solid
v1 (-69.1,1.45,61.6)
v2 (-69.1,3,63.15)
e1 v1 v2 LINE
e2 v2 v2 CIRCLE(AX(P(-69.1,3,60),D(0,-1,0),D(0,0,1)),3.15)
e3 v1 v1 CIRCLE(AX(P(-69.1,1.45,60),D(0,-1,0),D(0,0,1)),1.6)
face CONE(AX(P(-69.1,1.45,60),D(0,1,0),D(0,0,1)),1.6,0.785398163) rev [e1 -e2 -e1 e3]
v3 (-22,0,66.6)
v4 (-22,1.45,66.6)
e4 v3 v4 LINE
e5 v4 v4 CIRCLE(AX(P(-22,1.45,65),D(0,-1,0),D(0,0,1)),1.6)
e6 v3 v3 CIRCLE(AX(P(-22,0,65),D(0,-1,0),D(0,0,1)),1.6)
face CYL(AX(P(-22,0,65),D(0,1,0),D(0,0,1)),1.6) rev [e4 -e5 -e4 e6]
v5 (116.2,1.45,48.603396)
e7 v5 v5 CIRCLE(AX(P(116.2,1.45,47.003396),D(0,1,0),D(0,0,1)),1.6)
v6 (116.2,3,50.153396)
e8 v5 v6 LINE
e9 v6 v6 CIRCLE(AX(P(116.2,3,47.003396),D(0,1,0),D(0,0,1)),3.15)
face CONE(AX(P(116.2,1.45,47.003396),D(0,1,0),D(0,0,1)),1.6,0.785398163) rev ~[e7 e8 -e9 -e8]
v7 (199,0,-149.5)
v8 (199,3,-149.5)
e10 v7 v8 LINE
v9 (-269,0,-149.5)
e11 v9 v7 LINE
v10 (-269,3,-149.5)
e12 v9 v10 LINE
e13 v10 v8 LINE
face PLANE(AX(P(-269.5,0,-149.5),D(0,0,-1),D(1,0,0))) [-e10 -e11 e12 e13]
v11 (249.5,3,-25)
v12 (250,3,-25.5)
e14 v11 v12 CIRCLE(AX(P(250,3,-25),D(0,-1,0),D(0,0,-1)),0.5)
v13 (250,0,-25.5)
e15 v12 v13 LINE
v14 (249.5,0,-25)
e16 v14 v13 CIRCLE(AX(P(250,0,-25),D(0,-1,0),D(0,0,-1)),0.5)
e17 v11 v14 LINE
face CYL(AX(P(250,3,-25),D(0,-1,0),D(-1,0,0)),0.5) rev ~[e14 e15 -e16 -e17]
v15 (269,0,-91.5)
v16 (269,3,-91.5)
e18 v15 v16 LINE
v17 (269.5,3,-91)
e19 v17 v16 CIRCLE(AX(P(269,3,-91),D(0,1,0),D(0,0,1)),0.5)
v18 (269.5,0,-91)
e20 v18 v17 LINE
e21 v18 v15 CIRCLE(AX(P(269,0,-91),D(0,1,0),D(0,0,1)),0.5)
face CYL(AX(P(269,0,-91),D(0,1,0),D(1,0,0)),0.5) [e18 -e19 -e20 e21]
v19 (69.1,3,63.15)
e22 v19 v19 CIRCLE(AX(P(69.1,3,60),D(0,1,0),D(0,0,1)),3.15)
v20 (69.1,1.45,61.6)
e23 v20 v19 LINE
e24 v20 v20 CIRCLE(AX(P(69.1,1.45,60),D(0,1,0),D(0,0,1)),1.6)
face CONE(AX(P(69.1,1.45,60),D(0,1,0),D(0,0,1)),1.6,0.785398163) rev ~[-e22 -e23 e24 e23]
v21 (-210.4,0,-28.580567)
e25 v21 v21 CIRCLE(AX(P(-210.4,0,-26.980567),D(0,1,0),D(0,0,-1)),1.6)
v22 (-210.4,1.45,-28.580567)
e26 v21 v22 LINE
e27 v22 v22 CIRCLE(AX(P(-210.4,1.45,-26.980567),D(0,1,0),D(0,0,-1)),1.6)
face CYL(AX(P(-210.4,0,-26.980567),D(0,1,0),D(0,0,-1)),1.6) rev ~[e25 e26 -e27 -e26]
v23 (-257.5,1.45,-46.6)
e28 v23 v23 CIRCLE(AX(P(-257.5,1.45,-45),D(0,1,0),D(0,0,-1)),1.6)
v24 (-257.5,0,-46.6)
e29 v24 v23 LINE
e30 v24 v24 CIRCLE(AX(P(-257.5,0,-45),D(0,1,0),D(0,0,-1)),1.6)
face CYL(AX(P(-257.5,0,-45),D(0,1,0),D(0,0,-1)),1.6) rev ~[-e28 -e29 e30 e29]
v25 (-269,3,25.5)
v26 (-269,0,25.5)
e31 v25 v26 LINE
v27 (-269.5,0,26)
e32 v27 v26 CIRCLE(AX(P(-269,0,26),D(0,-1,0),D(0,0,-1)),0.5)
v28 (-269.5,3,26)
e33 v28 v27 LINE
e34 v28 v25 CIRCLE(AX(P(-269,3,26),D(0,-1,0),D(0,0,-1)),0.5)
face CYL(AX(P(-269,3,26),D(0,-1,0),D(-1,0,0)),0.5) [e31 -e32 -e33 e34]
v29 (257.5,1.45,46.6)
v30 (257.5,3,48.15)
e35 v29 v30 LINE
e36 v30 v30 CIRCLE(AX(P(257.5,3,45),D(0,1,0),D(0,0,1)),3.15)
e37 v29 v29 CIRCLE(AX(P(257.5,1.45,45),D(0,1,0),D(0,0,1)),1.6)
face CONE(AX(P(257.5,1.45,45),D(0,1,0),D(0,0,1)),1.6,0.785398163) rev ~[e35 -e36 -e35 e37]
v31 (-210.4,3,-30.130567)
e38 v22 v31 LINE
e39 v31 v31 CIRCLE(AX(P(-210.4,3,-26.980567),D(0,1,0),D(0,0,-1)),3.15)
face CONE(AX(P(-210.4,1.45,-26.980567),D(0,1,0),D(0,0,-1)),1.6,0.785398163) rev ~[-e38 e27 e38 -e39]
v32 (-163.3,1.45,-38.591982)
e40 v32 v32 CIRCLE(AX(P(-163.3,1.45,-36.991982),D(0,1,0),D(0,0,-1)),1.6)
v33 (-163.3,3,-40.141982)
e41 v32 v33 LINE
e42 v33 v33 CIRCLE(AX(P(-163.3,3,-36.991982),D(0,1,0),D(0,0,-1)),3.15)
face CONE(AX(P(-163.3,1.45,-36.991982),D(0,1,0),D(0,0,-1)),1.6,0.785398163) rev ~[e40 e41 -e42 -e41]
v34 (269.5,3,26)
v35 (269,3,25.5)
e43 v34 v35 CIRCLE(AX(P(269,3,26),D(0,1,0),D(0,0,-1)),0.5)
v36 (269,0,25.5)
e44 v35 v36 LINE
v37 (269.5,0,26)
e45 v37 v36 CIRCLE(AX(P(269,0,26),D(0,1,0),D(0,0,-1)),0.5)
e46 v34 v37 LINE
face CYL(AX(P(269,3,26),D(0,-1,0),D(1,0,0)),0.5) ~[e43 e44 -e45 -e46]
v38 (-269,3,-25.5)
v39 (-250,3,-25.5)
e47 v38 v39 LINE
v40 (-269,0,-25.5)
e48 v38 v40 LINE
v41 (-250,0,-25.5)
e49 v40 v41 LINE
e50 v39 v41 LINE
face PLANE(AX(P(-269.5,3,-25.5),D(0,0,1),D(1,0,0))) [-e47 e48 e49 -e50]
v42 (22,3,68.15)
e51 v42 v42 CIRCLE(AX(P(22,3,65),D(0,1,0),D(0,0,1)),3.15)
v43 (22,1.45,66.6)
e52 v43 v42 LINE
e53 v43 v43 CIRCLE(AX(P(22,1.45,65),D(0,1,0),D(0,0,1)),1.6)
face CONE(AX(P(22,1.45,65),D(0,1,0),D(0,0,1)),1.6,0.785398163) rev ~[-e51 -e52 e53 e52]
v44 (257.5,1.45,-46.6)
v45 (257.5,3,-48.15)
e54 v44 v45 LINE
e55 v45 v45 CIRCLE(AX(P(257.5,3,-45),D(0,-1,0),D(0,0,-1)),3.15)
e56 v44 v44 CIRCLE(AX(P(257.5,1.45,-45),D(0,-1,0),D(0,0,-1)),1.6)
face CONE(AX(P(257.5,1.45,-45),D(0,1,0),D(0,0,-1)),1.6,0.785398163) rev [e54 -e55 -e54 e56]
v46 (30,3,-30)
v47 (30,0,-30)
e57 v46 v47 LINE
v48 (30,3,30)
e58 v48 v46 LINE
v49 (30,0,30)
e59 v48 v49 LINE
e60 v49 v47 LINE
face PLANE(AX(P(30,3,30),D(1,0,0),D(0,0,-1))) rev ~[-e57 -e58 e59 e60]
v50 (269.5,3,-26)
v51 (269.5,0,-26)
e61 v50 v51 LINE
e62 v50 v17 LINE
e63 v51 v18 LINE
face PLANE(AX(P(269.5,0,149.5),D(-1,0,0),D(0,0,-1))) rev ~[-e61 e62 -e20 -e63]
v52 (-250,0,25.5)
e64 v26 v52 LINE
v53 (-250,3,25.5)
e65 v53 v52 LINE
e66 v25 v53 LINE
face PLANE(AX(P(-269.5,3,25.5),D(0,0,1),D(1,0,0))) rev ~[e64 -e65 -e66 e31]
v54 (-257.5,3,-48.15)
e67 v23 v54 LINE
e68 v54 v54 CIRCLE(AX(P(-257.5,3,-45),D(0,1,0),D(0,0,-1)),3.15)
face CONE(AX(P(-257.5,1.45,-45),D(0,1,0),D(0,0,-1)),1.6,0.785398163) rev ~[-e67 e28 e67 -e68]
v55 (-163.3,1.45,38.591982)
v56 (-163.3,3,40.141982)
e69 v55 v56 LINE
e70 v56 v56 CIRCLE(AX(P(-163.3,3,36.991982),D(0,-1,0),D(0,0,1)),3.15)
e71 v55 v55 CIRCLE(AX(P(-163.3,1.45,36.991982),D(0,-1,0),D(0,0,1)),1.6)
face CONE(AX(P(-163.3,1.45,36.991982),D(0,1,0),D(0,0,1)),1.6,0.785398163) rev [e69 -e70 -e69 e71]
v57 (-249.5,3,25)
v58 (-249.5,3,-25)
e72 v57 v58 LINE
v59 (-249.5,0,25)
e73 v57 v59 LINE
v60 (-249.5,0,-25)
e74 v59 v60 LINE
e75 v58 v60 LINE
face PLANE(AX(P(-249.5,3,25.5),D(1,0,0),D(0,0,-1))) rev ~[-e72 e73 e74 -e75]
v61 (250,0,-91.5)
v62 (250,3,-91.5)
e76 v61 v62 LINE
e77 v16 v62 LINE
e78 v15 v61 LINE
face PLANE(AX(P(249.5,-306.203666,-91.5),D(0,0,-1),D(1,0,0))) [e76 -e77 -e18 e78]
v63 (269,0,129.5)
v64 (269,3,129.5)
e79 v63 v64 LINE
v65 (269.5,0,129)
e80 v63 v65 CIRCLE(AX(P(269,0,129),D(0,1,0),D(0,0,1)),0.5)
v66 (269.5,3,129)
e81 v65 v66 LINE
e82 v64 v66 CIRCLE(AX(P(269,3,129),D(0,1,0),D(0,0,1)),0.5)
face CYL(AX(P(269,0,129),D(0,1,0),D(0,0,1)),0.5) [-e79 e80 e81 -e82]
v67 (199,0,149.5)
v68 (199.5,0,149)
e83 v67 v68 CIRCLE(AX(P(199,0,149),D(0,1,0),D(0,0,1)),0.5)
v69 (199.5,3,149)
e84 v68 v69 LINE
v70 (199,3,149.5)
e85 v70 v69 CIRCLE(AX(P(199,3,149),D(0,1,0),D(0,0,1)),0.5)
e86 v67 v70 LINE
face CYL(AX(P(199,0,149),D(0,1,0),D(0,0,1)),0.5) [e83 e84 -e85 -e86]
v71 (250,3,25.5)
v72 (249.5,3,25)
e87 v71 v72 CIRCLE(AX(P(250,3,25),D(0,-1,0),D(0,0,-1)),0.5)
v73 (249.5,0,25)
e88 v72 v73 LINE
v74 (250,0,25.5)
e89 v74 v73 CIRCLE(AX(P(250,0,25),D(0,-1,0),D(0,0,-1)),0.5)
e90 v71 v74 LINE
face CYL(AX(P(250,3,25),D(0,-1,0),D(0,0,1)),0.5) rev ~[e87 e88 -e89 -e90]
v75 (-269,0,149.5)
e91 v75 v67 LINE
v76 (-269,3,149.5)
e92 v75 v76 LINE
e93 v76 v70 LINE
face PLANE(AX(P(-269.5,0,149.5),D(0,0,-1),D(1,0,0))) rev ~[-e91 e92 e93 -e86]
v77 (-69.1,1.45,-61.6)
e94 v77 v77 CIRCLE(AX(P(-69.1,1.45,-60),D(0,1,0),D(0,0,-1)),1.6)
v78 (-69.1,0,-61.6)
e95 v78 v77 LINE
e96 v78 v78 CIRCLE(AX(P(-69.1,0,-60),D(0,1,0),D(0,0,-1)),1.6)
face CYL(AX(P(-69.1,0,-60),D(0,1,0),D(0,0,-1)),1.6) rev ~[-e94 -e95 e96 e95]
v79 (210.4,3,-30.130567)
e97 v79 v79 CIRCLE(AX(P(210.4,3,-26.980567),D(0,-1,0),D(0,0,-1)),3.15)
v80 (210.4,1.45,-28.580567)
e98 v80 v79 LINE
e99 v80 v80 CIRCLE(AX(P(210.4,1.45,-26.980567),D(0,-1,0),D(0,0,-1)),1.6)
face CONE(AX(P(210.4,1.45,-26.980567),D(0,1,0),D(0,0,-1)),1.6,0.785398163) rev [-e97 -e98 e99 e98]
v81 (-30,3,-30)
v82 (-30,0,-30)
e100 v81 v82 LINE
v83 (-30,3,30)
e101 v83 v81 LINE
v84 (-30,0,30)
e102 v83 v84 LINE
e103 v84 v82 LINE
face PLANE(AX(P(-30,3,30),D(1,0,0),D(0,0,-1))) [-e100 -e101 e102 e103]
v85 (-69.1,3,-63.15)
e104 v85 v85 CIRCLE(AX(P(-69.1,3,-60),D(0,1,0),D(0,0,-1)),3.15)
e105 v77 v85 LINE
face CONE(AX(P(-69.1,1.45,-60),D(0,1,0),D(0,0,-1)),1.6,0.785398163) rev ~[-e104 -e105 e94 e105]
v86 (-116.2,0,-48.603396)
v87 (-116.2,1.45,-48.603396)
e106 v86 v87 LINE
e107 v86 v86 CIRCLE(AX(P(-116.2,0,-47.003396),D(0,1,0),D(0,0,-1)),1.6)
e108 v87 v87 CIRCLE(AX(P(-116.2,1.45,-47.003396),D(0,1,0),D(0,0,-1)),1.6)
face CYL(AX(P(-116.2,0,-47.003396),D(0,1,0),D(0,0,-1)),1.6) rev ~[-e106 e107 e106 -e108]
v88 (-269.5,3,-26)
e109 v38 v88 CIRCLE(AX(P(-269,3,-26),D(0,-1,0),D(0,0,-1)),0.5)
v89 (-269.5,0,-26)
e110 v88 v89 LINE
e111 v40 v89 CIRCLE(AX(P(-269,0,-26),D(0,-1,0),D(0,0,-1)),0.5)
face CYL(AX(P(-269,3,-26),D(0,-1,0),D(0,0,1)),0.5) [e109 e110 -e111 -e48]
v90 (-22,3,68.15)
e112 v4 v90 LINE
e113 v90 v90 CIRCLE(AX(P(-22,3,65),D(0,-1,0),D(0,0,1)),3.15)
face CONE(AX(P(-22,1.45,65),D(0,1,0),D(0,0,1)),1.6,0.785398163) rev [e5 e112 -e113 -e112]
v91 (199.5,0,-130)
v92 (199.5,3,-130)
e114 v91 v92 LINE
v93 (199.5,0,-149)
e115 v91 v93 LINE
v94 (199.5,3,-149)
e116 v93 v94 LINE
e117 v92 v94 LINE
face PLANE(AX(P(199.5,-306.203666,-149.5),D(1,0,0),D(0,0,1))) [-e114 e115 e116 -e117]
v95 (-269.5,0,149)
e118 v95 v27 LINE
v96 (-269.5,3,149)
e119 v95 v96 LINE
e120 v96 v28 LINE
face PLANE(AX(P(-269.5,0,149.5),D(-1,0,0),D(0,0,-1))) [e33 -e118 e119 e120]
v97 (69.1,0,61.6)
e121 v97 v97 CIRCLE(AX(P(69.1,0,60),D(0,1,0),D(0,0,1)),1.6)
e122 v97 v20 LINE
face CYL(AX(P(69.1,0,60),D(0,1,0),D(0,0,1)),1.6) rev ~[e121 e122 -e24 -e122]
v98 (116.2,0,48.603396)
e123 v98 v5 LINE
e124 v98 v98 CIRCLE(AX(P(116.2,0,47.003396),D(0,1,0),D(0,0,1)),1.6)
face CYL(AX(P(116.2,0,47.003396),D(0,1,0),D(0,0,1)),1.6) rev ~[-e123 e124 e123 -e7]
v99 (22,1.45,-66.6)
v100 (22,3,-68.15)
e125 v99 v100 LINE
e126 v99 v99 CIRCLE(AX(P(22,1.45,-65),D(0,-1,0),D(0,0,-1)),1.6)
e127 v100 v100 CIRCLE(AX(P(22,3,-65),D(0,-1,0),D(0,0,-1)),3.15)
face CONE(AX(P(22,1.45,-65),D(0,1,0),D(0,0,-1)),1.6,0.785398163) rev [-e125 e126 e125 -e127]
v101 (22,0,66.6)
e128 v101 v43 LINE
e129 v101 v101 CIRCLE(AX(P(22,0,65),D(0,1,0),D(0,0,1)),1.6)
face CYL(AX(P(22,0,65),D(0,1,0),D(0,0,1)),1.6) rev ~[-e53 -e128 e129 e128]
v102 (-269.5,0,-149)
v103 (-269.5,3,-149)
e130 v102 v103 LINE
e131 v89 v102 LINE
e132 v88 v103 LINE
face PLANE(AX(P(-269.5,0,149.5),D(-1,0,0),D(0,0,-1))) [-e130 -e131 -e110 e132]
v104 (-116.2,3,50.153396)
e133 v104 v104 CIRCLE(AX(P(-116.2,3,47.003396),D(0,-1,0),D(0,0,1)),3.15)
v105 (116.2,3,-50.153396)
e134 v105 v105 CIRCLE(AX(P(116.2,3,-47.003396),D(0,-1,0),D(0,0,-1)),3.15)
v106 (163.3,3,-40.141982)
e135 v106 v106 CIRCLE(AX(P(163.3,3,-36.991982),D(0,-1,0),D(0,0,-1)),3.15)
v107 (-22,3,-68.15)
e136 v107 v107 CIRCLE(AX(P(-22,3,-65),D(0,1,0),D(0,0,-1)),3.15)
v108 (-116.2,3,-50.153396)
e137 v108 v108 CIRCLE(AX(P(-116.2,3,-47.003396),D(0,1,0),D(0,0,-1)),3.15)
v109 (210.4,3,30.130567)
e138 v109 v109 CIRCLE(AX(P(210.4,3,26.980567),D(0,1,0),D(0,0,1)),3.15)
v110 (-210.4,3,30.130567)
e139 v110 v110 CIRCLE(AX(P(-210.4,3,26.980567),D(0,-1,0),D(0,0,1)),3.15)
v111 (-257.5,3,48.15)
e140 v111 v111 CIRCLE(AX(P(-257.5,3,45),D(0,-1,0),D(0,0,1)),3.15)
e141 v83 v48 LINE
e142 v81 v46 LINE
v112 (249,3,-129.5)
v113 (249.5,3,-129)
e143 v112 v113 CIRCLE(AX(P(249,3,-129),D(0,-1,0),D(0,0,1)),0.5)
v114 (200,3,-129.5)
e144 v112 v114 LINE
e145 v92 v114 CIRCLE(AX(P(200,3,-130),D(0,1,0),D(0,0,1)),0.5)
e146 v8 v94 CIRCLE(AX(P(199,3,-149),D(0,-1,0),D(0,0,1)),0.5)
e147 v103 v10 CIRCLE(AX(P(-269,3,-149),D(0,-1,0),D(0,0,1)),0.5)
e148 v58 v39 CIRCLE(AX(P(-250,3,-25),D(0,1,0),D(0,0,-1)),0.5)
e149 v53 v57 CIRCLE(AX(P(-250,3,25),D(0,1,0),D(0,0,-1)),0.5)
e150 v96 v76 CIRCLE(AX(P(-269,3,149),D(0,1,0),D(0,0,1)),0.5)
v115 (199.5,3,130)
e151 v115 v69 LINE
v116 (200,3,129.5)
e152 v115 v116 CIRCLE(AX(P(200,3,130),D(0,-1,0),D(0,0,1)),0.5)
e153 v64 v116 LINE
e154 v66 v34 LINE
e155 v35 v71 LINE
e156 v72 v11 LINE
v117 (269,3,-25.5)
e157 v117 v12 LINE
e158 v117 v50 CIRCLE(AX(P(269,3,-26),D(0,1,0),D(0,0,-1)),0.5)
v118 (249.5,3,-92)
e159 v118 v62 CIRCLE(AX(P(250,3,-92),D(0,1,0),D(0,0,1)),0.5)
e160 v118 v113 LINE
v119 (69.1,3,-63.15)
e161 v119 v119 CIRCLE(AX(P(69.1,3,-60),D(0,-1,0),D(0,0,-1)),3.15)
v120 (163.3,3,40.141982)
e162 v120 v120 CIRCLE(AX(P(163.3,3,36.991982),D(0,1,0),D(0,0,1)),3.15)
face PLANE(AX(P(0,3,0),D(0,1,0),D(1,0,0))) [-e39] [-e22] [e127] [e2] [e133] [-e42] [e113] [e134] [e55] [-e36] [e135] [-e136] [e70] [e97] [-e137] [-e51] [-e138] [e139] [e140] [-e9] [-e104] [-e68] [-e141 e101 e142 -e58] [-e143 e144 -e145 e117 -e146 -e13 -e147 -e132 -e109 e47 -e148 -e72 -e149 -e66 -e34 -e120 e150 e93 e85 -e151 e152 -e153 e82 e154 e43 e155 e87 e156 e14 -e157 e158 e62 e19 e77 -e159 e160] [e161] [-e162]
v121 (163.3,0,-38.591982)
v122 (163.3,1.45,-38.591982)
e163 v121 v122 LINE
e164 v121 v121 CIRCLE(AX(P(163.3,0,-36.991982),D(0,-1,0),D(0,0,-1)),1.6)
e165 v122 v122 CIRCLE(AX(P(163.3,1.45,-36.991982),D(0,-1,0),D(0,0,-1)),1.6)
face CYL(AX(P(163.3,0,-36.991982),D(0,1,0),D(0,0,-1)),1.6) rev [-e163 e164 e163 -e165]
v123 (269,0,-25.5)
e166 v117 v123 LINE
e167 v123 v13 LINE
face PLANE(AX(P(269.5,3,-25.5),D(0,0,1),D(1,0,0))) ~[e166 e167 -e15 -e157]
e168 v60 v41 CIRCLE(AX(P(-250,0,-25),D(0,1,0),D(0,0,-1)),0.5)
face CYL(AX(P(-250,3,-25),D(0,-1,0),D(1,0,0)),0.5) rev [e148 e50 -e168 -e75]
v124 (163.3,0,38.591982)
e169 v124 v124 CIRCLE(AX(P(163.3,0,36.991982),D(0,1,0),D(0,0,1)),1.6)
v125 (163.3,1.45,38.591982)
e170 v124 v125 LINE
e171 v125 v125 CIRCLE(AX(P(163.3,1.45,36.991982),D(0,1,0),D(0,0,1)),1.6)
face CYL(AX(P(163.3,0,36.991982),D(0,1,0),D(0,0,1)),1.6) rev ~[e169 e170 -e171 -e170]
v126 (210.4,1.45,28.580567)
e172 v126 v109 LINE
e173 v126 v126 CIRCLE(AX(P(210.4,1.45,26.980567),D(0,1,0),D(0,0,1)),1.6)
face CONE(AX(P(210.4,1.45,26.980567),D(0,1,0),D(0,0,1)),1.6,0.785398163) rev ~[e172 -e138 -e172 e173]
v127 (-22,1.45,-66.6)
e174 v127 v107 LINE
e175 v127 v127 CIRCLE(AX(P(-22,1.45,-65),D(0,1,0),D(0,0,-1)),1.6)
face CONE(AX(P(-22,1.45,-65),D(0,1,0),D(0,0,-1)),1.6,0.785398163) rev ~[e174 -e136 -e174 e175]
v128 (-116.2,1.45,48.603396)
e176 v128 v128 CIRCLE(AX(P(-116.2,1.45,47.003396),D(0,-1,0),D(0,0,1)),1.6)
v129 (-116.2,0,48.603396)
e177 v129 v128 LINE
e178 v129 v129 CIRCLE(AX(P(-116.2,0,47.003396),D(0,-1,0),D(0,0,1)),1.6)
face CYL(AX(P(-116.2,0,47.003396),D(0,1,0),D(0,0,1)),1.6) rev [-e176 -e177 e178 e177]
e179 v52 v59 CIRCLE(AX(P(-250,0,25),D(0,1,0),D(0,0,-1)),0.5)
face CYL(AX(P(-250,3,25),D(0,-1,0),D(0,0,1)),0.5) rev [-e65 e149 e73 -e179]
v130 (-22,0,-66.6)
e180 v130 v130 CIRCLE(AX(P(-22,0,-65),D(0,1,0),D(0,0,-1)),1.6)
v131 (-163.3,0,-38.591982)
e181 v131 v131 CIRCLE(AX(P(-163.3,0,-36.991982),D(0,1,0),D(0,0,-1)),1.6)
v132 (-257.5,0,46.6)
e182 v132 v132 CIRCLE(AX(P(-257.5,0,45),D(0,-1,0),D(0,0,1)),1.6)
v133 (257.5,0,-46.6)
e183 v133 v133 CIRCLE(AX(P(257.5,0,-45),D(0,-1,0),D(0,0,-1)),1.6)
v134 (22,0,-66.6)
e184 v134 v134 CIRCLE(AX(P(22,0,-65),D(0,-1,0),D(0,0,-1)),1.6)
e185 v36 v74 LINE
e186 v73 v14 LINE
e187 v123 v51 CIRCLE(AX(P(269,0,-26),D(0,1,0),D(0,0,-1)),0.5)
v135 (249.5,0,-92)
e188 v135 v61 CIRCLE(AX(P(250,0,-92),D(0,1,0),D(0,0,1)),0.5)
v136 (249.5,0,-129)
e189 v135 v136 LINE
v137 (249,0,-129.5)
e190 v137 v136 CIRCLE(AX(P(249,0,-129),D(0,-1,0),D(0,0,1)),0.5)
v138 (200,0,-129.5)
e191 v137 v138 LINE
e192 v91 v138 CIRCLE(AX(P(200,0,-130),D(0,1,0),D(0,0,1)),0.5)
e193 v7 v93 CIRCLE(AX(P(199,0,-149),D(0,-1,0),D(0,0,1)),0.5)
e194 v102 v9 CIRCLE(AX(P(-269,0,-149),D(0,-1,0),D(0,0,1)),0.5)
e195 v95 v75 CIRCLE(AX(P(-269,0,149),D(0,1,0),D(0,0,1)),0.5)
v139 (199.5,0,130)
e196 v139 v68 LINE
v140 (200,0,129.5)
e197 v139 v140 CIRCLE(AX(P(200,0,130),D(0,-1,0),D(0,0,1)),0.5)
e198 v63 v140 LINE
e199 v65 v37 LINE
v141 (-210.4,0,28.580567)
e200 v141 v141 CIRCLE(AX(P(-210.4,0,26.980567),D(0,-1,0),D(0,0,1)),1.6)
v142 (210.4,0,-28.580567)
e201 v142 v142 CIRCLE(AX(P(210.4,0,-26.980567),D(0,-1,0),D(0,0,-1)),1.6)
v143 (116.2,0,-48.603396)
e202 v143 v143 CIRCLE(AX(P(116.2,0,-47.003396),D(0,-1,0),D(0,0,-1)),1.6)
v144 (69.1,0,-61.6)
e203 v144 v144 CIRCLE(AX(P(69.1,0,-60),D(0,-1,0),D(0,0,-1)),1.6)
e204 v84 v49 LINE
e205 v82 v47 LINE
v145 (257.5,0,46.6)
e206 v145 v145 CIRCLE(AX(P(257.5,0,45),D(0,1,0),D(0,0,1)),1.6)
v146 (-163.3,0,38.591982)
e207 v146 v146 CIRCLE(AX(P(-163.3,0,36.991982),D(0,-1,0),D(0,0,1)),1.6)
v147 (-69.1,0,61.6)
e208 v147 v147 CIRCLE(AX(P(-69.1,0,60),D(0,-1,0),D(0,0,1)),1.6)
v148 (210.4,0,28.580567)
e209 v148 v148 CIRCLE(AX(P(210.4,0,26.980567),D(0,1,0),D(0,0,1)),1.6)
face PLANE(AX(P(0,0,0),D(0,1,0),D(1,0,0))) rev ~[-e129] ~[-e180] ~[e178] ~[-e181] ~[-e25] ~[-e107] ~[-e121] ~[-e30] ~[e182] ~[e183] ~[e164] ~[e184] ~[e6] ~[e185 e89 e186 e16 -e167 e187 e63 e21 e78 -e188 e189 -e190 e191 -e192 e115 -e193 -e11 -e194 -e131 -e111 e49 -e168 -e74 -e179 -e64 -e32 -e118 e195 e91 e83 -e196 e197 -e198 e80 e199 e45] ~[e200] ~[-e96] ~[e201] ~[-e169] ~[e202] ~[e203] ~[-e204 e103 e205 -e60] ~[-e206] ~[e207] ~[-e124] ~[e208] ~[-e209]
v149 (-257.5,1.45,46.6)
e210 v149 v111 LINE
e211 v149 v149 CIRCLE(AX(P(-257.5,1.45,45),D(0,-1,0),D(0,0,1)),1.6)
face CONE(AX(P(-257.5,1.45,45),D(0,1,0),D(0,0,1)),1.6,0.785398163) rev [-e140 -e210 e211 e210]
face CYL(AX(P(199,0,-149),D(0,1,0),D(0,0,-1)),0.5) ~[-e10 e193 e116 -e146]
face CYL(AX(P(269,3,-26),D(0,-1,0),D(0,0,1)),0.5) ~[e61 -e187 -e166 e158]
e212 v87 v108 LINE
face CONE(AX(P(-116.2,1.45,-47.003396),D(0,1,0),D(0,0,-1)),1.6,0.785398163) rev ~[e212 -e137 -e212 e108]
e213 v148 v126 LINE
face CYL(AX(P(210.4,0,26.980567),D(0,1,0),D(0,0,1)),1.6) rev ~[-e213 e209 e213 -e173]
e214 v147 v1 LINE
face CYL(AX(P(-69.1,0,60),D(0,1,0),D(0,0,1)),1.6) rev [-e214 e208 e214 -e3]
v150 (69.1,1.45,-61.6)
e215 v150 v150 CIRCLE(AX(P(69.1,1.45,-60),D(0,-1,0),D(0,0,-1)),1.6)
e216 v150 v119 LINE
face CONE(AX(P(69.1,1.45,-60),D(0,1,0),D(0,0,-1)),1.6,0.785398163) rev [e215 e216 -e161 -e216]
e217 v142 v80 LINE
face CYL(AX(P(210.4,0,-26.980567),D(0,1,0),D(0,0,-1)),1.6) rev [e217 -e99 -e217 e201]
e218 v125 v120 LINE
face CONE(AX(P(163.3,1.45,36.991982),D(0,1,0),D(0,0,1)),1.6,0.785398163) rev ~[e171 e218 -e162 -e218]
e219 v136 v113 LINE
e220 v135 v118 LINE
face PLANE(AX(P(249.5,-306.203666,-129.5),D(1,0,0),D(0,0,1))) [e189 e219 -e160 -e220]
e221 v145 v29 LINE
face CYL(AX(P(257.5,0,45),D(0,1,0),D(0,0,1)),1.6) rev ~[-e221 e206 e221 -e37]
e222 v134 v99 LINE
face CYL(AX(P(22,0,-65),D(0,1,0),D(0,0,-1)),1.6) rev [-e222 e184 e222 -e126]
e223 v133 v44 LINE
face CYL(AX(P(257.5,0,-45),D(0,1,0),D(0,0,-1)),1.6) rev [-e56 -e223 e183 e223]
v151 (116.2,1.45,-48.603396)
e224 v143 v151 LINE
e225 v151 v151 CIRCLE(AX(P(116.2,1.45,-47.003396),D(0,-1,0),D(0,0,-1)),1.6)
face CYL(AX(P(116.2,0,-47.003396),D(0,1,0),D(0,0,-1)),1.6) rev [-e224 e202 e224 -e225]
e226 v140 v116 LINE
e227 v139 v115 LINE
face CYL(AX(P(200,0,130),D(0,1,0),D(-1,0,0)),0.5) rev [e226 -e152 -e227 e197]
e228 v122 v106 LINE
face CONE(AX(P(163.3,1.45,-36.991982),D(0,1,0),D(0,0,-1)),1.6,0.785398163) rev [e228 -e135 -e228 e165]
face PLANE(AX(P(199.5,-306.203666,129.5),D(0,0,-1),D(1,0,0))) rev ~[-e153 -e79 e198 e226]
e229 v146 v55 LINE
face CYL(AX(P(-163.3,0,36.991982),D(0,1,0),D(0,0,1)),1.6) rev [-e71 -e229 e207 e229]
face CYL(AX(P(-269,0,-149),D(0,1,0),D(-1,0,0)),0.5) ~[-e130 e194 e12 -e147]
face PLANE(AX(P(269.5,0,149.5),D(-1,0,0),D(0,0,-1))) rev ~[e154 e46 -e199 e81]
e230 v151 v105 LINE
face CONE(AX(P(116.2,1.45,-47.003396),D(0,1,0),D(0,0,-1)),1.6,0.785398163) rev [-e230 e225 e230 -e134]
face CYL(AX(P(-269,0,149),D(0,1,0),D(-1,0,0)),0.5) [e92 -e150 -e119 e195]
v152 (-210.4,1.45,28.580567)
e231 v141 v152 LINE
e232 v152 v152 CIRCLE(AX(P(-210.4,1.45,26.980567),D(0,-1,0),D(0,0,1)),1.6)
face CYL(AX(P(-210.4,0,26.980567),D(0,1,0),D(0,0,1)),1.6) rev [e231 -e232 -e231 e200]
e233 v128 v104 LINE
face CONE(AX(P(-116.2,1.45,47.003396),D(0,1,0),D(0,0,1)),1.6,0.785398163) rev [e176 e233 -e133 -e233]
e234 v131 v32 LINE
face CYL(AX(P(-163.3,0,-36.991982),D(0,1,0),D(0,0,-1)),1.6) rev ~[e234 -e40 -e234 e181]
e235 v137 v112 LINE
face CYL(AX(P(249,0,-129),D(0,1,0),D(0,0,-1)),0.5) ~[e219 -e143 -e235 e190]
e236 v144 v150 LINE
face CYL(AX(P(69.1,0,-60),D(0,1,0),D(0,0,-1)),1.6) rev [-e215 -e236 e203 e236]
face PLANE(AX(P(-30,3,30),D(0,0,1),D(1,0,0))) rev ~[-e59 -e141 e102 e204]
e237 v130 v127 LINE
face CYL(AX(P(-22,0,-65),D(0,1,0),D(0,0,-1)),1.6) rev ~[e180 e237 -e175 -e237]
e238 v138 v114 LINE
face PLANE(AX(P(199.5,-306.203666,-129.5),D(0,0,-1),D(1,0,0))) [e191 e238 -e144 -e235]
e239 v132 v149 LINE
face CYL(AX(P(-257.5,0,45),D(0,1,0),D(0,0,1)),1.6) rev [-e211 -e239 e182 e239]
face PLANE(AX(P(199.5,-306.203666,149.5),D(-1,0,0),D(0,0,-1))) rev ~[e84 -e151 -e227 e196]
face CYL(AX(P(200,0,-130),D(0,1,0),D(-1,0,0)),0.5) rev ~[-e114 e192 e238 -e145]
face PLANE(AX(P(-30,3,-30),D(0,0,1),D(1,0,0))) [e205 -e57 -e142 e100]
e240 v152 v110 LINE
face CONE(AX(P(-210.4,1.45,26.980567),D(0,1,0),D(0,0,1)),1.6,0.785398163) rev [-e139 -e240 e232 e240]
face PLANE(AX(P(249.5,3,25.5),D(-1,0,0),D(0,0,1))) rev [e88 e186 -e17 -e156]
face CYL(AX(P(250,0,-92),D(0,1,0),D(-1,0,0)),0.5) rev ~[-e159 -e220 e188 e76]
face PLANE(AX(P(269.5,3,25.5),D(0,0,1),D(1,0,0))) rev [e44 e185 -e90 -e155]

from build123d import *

# Parameters (mm, degrees)
SKETCH1_W                                      = 539
SKETCH1_H                                      = 299
BOSS_EXTRUDE1_DEPTH                            = 3
SKETCH2_W                                      = 20
SKETCH2_H                                      = 51
CUT_EXTRUDE1_DEPTH                             = 309.203666429
CSK_FOR_M3_FLAT_HEAD_MACHINE_SCREW1_AT_2_COUNT = 2
CSK_FOR_M3_FLAT_HEAD_MACHINE_SCREW1_AT_2_PITCH = 50.429256866
CSK_FOR_M3_FLAT_HEAD_MACHINE_SCREW1_AT_3_COUNT = 2
CSK_FOR_M3_FLAT_HEAD_MACHINE_SCREW1_AT_3_PITCH = 94.539771311
CSK_FOR_M3_FLAT_HEAD_MACHINE_SCREW1_AT_4_COUNT = 2
CSK_FOR_M3_FLAT_HEAD_MACHINE_SCREW1_AT_4_PITCH = 141.314201671
CSK_FOR_M3_FLAT_HEAD_MACHINE_SCREW1_AT_5_COUNT = 2
CSK_FOR_M3_FLAT_HEAD_MACHINE_SCREW1_AT_5_PITCH = 188.996190438
CSK_FOR_M3_FLAT_HEAD_MACHINE_SCREW1_AT_6_COUNT = 2
CSK_FOR_M3_FLAT_HEAD_MACHINE_SCREW1_AT_6_PITCH = 236.347731108
CUT_EXTRUDE3_DEPTH                             = 309.203666429
CUT_EXTRUDE3_DEPTH_BACK                        = 309.203666429
SKETCH6_W                                      = 70
SKETCH6_H                                      = 20
SKETCH9_W                                      = 60
SKETCH9_H                                      = 60
CUT_EXTRUDE4_DEPTH                             = 309.203666429
FILLET1_R                                      = 0.5


with BuildPart() as part:
    # Sketch1 → Boss-Extrude1 (new body)
    with BuildSketch(Plane(origin=(0, 0, 0), x_dir=(1, 0, 0), z_dir=(0, 1, 0))):
        Rectangle(SKETCH1_W, SKETCH1_H)
    extrude(amount=BOSS_EXTRUDE1_DEPTH)

    # Sketch2 → Cut-Extrude1 (cut, through all)
    with BuildSketch(Plane(origin=(0, 3, 0), x_dir=(1, 0, 0), z_dir=(0, 1, 0))):
        with Locations((-259.5, 0)):
            Rectangle(SKETCH2_W, SKETCH2_H)
    cut_extrude1 = extrude(amount=-CUT_EXTRUDE1_DEPTH, mode=Mode.SUBTRACT)

    # Mirror1: Cut-Extrude1 across plane
    add(cut_extrude1.mirror(Plane(origin=(0, 0, 0), x_dir=(0, 0, 1), z_dir=(1, 0, 0))), mode=Mode.SUBTRACT)

    # Sketch4 → CSK for M3 Flat Head Machine Screw1 (revolve, cut)
    with BuildSketch(Plane(origin=(-257.5, 3, 45), x_dir=(0, 0, 1), z_dir=(1, 0, 0))):
        Polygon((0, 0), (0, 3), (1.6, 3), (1.6, 1.55), (3.15, 0), align=None)
    csk_for_m3_flat_head_machine_screw1 = revolve(axis=Axis((-257.5, 9.35, 45), (0, -1, 0)), mode=Mode.SUBTRACT)

    # CSK for M3 Flat Head Machine Screw1 at 2: CSK for M3 Flat Head Machine Screw1 ×2
    with Locations(*[Vector(0.9339816393782528, 0, -0.357321000368452) * (i * CSK_FOR_M3_FLAT_HEAD_MACHINE_SCREW1_AT_2_PITCH) for i in range(1, CSK_FOR_M3_FLAT_HEAD_MACHINE_SCREW1_AT_2_COUNT)]):
        add(csk_for_m3_flat_head_machine_screw1, mode=Mode.SUBTRACT)

    # CSK for M3 Flat Head Machine Screw1 at 3: CSK for M3 Flat Head Machine Screw1 ×2
    with Locations(*[Vector(0.9964060489398768, 0, -0.0847052869425741) * (i * CSK_FOR_M3_FLAT_HEAD_MACHINE_SCREW1_AT_3_PITCH) for i in range(1, CSK_FOR_M3_FLAT_HEAD_MACHINE_SCREW1_AT_3_COUNT)]):
        add(csk_for_m3_flat_head_machine_screw1, mode=Mode.SUBTRACT)

    # CSK for M3 Flat Head Machine Screw1 at 4: CSK for M3 Flat Head Machine Screw1 ×2
    with Locations(*[Vector(0.9998995028746508, 0, 0.01417688791753526) * (i * CSK_FOR_M3_FLAT_HEAD_MACHINE_SCREW1_AT_4_PITCH) for i in range(1, CSK_FOR_M3_FLAT_HEAD_MACHINE_SCREW1_AT_4_COUNT)]):
        add(csk_for_m3_flat_head_machine_screw1, mode=Mode.SUBTRACT)

    # CSK for M3 Flat Head Machine Screw1 at 5: CSK for M3 Flat Head Machine Screw1 ×2
    with Locations(*[Vector(0.9968454896555541, 0, 0.07936667911270336) * (i * CSK_FOR_M3_FLAT_HEAD_MACHINE_SCREW1_AT_5_PITCH) for i in range(1, CSK_FOR_M3_FLAT_HEAD_MACHINE_SCREW1_AT_5_COUNT)]):
        add(csk_for_m3_flat_head_machine_screw1, mode=Mode.SUBTRACT)

    # CSK for M3 Flat Head Machine Screw1 at 6: CSK for M3 Flat Head Machine Screw1 ×2
    with Locations(*[Vector(0.9964132039506463, 0, 0.08462107889177463) * (i * CSK_FOR_M3_FLAT_HEAD_MACHINE_SCREW1_AT_6_PITCH) for i in range(1, CSK_FOR_M3_FLAT_HEAD_MACHINE_SCREW1_AT_6_COUNT)]):
        add(csk_for_m3_flat_head_machine_screw1, mode=Mode.SUBTRACT)

    # Sketch6 → Cut-Extrude3 (cut, two sides: drawn at the far end of the back side and taken through both)
    with BuildSketch(Plane(origin=(0, 3, 0), x_dir=(1, 0, 0), z_dir=(0, 1, 0)).offset(-CUT_EXTRUDE3_DEPTH_BACK)):
        Polygon((199.5, 149.5), (199.5, 129.5), (249.5, 129.5), (249.5, 91.5), (269.5, 91.5), (269.5, 149.5), align=None)
        with Locations((234.5, -139.5)):
            Rectangle(SKETCH6_W, SKETCH6_H)
    extrude(amount=CUT_EXTRUDE3_DEPTH + CUT_EXTRUDE3_DEPTH_BACK, mode=Mode.SUBTRACT)

    # Mirror2: CSK for M3 Flat Head Machine Screw1 across plane
    add(csk_for_m3_flat_head_machine_screw1.mirror(Plane(origin=(0, 0, 0), x_dir=(0, 0, 1), z_dir=(1, 0, 0))), mode=Mode.SUBTRACT)

    # Mirror2 copy 1 sketch → Mirror2 copy 1 (revolve, cut)
    with BuildSketch(Plane(origin=(210.4, 3, 26.980567489), x_dir=(0, 0, 1), z_dir=(-1, 0, 0))):
        Polygon((0, 0), (0, -3), (1.6, -3), (1.6, -1.55), (3.15, 0), align=None)
    revolve(axis=Axis((210.4, 9.35, 26.980567489), (0, 1, 0)), mode=Mode.SUBTRACT)

    # Mirror2 copy 2 sketch → Mirror2 copy 2 (revolve, cut)
    with BuildSketch(Plane(origin=(163.3, 3, 36.991981544), x_dir=(0, 0, 1), z_dir=(-1, 0, 0))):
        Polygon((0, 0), (0, -3), (1.6, -3), (1.6, -1.55), (3.15, 0), align=None)
    revolve(axis=Axis((163.3, 9.35, 36.991981544), (0, 1, 0)), mode=Mode.SUBTRACT)

    # Mirror2 copy 3 sketch → Mirror2 copy 3 (revolve, cut)
    with BuildSketch(Plane(origin=(116.2, 3, 47.003395598), x_dir=(0, 0, 1), z_dir=(-1, 0, 0))):
        Polygon((0, 0), (0, -3), (1.6, -3), (1.6, -1.55), (3.15, 0), align=None)
    revolve(axis=Axis((116.2, 9.35, 47.003395598), (0, 1, 0)), mode=Mode.SUBTRACT)

    # Mirror2 copy 4 sketch → Mirror2 copy 4 (revolve, cut)
    with BuildSketch(Plane(origin=(69.1, 3, 60), x_dir=(0, 0, 1), z_dir=(-1, 0, 0))):
        Polygon((0, 0), (0, -3), (1.6, -3), (1.6, -1.55), (3.15, 0), align=None)
    revolve(axis=Axis((69.1, 9.35, 60), (0, 1, 0)), mode=Mode.SUBTRACT)

    # Mirror2 copy 5 sketch → Mirror2 copy 5 (revolve, cut)
    with BuildSketch(Plane(origin=(22, 3, 65), x_dir=(0, 0, 1), z_dir=(-1, 0, 0))):
        Polygon((0, 0), (0, -3), (1.6, -3), (1.6, -1.55), (3.15, 0), align=None)
    revolve(axis=Axis((22, 9.35, 65), (0, 1, 0)), mode=Mode.SUBTRACT)

    # Mirror3: CSK for M3 Flat Head Machine Screw1 across plane
    add(csk_for_m3_flat_head_machine_screw1.mirror(Plane.XY), mode=Mode.SUBTRACT)

    # Mirror3 copy 1 sketch → Mirror3 copy 1 (revolve, cut)
    with BuildSketch(Plane(origin=(-210.4, 3, -26.980567489), x_dir=(0, 0, -1), z_dir=(1, 0, 0))):
        Polygon((0, 0), (0, -3), (1.6, -3), (1.6, -1.55), (3.15, 0), align=None)
    revolve(axis=Axis((-210.4, 9.35, -26.980567489), (0, 1, 0)), mode=Mode.SUBTRACT)

    # Mirror3 copy 2 sketch → Mirror3 copy 2 (revolve, cut)
    with BuildSketch(Plane(origin=(-163.3, 3, -36.991981544), x_dir=(0, 0, -1), z_dir=(1, 0, 0))):
        Polygon((0, 0), (0, -3), (1.6, -3), (1.6, -1.55), (3.15, 0), align=None)
    revolve(axis=Axis((-163.3, 9.35, -36.991981544), (0, 1, 0)), mode=Mode.SUBTRACT)

    # Mirror3 copy 3 sketch → Mirror3 copy 3 (revolve, cut)
    with BuildSketch(Plane(origin=(-116.2, 3, -47.003395598), x_dir=(0, 0, -1), z_dir=(1, 0, 0))):
        Polygon((0, 0), (0, -3), (1.6, -3), (1.6, -1.55), (3.15, 0), align=None)
    revolve(axis=Axis((-116.2, 9.35, -47.003395598), (0, 1, 0)), mode=Mode.SUBTRACT)

    # Mirror3 copy 4 sketch → Mirror3 copy 4 (revolve, cut)
    with BuildSketch(Plane(origin=(-69.1, 3, -60), x_dir=(0, 0, -1), z_dir=(1, 0, 0))):
        Polygon((0, 0), (0, -3), (1.6, -3), (1.6, -1.55), (3.15, 0), align=None)
    revolve(axis=Axis((-69.1, 9.35, -60), (0, 1, 0)), mode=Mode.SUBTRACT)

    # Mirror3 copy 5 sketch → Mirror3 copy 5 (revolve, cut)
    with BuildSketch(Plane(origin=(-22, 3, -65), x_dir=(0, 0, -1), z_dir=(1, 0, 0))):
        Polygon((0, 0), (0, -3), (1.6, -3), (1.6, -1.55), (3.15, 0), align=None)
    revolve(axis=Axis((-22, 9.35, -65), (0, 1, 0)), mode=Mode.SUBTRACT)

    # Mirror3 copy 6 sketch → Mirror3 copy 6 (revolve, cut)
    with BuildSketch(Plane(origin=(257.5, 3, -45), x_dir=(0, 0, -1), z_dir=(-1, 0, 0))):
        Polygon((0, 0), (0, 3), (1.6, 3), (1.6, 1.55), (3.15, 0), align=None)
    revolve(axis=Axis((257.5, 9.35, -45), (0, -1, 0)), mode=Mode.SUBTRACT)

    # Mirror3 copy 7 sketch → Mirror3 copy 7 (revolve, cut)
    with BuildSketch(Plane(origin=(210.4, 3, -26.980567489), x_dir=(0, 0, -1), z_dir=(-1, 0, 0))):
        Polygon((0, 0), (0, 3), (1.6, 3), (1.6, 1.55), (3.15, 0), align=None)
    revolve(axis=Axis((210.4, 9.35, -26.980567489), (0, -1, 0)), mode=Mode.SUBTRACT)

    # Mirror3 copy 8 sketch → Mirror3 copy 8 (revolve, cut)
    with BuildSketch(Plane(origin=(163.3, 3, -36.991981544), x_dir=(0, 0, -1), z_dir=(-1, 0, 0))):
        Polygon((0, 0), (0, 3), (1.6, 3), (1.6, 1.55), (3.15, 0), align=None)
    revolve(axis=Axis((163.3, 9.35, -36.991981544), (0, -1, 0)), mode=Mode.SUBTRACT)

    # Mirror3 copy 9 sketch → Mirror3 copy 9 (revolve, cut)
    with BuildSketch(Plane(origin=(116.2, 3, -47.003395598), x_dir=(0, 0, -1), z_dir=(-1, 0, 0))):
        Polygon((0, 0), (0, 3), (1.6, 3), (1.6, 1.55), (3.15, 0), align=None)
    revolve(axis=Axis((116.2, 9.35, -47.003395598), (0, -1, 0)), mode=Mode.SUBTRACT)

    # Mirror3 copy 10 sketch → Mirror3 copy 10 (revolve, cut)
    with BuildSketch(Plane(origin=(69.1, 3, -60), x_dir=(0, 0, -1), z_dir=(-1, 0, 0))):
        Polygon((0, 0), (0, 3), (1.6, 3), (1.6, 1.55), (3.15, 0), align=None)
    revolve(axis=Axis((69.1, 9.35, -60), (0, -1, 0)), mode=Mode.SUBTRACT)

    # Mirror3 copy 11 sketch → Mirror3 copy 11 (revolve, cut)
    with BuildSketch(Plane(origin=(22, 3, -65), x_dir=(0, 0, -1), z_dir=(-1, 0, 0))):
        Polygon((0, 0), (0, 3), (1.6, 3), (1.6, 1.55), (3.15, 0), align=None)
    revolve(axis=Axis((22, 9.35, -65), (0, -1, 0)), mode=Mode.SUBTRACT)

    # Sketch9 → Cut-Extrude4 (cut, through all)
    with BuildSketch(Plane(origin=(0, 3, 0), x_dir=(1, 0, 0), z_dir=(0, 1, 0))):
        Rectangle(SKETCH9_W, SKETCH9_H)
    extrude(amount=-CUT_EXTRUDE4_DEPTH, mode=Mode.SUBTRACT)

    # Fillet1
    fillet1_edges = [part.edges().sort_by_distance(p)[0] for p in [
        (269.5, 1.5, 129.5),
        (199.5, 1.5, 149.5),
        (199.5, 1.5, 129.5),
        (-269.5, 1.5, 25.5),
        (-269.5, 1.5, -25.5),
        (-249.5, 1.5, -25.5),
        (-249.5, 1.5, 25.5),
        (269.5, 1.5, -25.5),
        (269.5, 1.5, 25.5),
        (249.5, 1.5, 25.5),
        (249.5, 1.5, -25.5),
        (-269.5, 1.5, -149.5),
        (-269.5, 1.5, 149.5),
        (199.5, 1.5, -149.5),
        (269.5, 1.5, -91.5),
        (249.5, 1.5, -91.5),
        (249.5, 1.5, -129.5),
        (199.5, 1.5, -129.5),
    ]]
    fillet(fillet1_edges, radius=FILLET1_R)


solid = part.part
